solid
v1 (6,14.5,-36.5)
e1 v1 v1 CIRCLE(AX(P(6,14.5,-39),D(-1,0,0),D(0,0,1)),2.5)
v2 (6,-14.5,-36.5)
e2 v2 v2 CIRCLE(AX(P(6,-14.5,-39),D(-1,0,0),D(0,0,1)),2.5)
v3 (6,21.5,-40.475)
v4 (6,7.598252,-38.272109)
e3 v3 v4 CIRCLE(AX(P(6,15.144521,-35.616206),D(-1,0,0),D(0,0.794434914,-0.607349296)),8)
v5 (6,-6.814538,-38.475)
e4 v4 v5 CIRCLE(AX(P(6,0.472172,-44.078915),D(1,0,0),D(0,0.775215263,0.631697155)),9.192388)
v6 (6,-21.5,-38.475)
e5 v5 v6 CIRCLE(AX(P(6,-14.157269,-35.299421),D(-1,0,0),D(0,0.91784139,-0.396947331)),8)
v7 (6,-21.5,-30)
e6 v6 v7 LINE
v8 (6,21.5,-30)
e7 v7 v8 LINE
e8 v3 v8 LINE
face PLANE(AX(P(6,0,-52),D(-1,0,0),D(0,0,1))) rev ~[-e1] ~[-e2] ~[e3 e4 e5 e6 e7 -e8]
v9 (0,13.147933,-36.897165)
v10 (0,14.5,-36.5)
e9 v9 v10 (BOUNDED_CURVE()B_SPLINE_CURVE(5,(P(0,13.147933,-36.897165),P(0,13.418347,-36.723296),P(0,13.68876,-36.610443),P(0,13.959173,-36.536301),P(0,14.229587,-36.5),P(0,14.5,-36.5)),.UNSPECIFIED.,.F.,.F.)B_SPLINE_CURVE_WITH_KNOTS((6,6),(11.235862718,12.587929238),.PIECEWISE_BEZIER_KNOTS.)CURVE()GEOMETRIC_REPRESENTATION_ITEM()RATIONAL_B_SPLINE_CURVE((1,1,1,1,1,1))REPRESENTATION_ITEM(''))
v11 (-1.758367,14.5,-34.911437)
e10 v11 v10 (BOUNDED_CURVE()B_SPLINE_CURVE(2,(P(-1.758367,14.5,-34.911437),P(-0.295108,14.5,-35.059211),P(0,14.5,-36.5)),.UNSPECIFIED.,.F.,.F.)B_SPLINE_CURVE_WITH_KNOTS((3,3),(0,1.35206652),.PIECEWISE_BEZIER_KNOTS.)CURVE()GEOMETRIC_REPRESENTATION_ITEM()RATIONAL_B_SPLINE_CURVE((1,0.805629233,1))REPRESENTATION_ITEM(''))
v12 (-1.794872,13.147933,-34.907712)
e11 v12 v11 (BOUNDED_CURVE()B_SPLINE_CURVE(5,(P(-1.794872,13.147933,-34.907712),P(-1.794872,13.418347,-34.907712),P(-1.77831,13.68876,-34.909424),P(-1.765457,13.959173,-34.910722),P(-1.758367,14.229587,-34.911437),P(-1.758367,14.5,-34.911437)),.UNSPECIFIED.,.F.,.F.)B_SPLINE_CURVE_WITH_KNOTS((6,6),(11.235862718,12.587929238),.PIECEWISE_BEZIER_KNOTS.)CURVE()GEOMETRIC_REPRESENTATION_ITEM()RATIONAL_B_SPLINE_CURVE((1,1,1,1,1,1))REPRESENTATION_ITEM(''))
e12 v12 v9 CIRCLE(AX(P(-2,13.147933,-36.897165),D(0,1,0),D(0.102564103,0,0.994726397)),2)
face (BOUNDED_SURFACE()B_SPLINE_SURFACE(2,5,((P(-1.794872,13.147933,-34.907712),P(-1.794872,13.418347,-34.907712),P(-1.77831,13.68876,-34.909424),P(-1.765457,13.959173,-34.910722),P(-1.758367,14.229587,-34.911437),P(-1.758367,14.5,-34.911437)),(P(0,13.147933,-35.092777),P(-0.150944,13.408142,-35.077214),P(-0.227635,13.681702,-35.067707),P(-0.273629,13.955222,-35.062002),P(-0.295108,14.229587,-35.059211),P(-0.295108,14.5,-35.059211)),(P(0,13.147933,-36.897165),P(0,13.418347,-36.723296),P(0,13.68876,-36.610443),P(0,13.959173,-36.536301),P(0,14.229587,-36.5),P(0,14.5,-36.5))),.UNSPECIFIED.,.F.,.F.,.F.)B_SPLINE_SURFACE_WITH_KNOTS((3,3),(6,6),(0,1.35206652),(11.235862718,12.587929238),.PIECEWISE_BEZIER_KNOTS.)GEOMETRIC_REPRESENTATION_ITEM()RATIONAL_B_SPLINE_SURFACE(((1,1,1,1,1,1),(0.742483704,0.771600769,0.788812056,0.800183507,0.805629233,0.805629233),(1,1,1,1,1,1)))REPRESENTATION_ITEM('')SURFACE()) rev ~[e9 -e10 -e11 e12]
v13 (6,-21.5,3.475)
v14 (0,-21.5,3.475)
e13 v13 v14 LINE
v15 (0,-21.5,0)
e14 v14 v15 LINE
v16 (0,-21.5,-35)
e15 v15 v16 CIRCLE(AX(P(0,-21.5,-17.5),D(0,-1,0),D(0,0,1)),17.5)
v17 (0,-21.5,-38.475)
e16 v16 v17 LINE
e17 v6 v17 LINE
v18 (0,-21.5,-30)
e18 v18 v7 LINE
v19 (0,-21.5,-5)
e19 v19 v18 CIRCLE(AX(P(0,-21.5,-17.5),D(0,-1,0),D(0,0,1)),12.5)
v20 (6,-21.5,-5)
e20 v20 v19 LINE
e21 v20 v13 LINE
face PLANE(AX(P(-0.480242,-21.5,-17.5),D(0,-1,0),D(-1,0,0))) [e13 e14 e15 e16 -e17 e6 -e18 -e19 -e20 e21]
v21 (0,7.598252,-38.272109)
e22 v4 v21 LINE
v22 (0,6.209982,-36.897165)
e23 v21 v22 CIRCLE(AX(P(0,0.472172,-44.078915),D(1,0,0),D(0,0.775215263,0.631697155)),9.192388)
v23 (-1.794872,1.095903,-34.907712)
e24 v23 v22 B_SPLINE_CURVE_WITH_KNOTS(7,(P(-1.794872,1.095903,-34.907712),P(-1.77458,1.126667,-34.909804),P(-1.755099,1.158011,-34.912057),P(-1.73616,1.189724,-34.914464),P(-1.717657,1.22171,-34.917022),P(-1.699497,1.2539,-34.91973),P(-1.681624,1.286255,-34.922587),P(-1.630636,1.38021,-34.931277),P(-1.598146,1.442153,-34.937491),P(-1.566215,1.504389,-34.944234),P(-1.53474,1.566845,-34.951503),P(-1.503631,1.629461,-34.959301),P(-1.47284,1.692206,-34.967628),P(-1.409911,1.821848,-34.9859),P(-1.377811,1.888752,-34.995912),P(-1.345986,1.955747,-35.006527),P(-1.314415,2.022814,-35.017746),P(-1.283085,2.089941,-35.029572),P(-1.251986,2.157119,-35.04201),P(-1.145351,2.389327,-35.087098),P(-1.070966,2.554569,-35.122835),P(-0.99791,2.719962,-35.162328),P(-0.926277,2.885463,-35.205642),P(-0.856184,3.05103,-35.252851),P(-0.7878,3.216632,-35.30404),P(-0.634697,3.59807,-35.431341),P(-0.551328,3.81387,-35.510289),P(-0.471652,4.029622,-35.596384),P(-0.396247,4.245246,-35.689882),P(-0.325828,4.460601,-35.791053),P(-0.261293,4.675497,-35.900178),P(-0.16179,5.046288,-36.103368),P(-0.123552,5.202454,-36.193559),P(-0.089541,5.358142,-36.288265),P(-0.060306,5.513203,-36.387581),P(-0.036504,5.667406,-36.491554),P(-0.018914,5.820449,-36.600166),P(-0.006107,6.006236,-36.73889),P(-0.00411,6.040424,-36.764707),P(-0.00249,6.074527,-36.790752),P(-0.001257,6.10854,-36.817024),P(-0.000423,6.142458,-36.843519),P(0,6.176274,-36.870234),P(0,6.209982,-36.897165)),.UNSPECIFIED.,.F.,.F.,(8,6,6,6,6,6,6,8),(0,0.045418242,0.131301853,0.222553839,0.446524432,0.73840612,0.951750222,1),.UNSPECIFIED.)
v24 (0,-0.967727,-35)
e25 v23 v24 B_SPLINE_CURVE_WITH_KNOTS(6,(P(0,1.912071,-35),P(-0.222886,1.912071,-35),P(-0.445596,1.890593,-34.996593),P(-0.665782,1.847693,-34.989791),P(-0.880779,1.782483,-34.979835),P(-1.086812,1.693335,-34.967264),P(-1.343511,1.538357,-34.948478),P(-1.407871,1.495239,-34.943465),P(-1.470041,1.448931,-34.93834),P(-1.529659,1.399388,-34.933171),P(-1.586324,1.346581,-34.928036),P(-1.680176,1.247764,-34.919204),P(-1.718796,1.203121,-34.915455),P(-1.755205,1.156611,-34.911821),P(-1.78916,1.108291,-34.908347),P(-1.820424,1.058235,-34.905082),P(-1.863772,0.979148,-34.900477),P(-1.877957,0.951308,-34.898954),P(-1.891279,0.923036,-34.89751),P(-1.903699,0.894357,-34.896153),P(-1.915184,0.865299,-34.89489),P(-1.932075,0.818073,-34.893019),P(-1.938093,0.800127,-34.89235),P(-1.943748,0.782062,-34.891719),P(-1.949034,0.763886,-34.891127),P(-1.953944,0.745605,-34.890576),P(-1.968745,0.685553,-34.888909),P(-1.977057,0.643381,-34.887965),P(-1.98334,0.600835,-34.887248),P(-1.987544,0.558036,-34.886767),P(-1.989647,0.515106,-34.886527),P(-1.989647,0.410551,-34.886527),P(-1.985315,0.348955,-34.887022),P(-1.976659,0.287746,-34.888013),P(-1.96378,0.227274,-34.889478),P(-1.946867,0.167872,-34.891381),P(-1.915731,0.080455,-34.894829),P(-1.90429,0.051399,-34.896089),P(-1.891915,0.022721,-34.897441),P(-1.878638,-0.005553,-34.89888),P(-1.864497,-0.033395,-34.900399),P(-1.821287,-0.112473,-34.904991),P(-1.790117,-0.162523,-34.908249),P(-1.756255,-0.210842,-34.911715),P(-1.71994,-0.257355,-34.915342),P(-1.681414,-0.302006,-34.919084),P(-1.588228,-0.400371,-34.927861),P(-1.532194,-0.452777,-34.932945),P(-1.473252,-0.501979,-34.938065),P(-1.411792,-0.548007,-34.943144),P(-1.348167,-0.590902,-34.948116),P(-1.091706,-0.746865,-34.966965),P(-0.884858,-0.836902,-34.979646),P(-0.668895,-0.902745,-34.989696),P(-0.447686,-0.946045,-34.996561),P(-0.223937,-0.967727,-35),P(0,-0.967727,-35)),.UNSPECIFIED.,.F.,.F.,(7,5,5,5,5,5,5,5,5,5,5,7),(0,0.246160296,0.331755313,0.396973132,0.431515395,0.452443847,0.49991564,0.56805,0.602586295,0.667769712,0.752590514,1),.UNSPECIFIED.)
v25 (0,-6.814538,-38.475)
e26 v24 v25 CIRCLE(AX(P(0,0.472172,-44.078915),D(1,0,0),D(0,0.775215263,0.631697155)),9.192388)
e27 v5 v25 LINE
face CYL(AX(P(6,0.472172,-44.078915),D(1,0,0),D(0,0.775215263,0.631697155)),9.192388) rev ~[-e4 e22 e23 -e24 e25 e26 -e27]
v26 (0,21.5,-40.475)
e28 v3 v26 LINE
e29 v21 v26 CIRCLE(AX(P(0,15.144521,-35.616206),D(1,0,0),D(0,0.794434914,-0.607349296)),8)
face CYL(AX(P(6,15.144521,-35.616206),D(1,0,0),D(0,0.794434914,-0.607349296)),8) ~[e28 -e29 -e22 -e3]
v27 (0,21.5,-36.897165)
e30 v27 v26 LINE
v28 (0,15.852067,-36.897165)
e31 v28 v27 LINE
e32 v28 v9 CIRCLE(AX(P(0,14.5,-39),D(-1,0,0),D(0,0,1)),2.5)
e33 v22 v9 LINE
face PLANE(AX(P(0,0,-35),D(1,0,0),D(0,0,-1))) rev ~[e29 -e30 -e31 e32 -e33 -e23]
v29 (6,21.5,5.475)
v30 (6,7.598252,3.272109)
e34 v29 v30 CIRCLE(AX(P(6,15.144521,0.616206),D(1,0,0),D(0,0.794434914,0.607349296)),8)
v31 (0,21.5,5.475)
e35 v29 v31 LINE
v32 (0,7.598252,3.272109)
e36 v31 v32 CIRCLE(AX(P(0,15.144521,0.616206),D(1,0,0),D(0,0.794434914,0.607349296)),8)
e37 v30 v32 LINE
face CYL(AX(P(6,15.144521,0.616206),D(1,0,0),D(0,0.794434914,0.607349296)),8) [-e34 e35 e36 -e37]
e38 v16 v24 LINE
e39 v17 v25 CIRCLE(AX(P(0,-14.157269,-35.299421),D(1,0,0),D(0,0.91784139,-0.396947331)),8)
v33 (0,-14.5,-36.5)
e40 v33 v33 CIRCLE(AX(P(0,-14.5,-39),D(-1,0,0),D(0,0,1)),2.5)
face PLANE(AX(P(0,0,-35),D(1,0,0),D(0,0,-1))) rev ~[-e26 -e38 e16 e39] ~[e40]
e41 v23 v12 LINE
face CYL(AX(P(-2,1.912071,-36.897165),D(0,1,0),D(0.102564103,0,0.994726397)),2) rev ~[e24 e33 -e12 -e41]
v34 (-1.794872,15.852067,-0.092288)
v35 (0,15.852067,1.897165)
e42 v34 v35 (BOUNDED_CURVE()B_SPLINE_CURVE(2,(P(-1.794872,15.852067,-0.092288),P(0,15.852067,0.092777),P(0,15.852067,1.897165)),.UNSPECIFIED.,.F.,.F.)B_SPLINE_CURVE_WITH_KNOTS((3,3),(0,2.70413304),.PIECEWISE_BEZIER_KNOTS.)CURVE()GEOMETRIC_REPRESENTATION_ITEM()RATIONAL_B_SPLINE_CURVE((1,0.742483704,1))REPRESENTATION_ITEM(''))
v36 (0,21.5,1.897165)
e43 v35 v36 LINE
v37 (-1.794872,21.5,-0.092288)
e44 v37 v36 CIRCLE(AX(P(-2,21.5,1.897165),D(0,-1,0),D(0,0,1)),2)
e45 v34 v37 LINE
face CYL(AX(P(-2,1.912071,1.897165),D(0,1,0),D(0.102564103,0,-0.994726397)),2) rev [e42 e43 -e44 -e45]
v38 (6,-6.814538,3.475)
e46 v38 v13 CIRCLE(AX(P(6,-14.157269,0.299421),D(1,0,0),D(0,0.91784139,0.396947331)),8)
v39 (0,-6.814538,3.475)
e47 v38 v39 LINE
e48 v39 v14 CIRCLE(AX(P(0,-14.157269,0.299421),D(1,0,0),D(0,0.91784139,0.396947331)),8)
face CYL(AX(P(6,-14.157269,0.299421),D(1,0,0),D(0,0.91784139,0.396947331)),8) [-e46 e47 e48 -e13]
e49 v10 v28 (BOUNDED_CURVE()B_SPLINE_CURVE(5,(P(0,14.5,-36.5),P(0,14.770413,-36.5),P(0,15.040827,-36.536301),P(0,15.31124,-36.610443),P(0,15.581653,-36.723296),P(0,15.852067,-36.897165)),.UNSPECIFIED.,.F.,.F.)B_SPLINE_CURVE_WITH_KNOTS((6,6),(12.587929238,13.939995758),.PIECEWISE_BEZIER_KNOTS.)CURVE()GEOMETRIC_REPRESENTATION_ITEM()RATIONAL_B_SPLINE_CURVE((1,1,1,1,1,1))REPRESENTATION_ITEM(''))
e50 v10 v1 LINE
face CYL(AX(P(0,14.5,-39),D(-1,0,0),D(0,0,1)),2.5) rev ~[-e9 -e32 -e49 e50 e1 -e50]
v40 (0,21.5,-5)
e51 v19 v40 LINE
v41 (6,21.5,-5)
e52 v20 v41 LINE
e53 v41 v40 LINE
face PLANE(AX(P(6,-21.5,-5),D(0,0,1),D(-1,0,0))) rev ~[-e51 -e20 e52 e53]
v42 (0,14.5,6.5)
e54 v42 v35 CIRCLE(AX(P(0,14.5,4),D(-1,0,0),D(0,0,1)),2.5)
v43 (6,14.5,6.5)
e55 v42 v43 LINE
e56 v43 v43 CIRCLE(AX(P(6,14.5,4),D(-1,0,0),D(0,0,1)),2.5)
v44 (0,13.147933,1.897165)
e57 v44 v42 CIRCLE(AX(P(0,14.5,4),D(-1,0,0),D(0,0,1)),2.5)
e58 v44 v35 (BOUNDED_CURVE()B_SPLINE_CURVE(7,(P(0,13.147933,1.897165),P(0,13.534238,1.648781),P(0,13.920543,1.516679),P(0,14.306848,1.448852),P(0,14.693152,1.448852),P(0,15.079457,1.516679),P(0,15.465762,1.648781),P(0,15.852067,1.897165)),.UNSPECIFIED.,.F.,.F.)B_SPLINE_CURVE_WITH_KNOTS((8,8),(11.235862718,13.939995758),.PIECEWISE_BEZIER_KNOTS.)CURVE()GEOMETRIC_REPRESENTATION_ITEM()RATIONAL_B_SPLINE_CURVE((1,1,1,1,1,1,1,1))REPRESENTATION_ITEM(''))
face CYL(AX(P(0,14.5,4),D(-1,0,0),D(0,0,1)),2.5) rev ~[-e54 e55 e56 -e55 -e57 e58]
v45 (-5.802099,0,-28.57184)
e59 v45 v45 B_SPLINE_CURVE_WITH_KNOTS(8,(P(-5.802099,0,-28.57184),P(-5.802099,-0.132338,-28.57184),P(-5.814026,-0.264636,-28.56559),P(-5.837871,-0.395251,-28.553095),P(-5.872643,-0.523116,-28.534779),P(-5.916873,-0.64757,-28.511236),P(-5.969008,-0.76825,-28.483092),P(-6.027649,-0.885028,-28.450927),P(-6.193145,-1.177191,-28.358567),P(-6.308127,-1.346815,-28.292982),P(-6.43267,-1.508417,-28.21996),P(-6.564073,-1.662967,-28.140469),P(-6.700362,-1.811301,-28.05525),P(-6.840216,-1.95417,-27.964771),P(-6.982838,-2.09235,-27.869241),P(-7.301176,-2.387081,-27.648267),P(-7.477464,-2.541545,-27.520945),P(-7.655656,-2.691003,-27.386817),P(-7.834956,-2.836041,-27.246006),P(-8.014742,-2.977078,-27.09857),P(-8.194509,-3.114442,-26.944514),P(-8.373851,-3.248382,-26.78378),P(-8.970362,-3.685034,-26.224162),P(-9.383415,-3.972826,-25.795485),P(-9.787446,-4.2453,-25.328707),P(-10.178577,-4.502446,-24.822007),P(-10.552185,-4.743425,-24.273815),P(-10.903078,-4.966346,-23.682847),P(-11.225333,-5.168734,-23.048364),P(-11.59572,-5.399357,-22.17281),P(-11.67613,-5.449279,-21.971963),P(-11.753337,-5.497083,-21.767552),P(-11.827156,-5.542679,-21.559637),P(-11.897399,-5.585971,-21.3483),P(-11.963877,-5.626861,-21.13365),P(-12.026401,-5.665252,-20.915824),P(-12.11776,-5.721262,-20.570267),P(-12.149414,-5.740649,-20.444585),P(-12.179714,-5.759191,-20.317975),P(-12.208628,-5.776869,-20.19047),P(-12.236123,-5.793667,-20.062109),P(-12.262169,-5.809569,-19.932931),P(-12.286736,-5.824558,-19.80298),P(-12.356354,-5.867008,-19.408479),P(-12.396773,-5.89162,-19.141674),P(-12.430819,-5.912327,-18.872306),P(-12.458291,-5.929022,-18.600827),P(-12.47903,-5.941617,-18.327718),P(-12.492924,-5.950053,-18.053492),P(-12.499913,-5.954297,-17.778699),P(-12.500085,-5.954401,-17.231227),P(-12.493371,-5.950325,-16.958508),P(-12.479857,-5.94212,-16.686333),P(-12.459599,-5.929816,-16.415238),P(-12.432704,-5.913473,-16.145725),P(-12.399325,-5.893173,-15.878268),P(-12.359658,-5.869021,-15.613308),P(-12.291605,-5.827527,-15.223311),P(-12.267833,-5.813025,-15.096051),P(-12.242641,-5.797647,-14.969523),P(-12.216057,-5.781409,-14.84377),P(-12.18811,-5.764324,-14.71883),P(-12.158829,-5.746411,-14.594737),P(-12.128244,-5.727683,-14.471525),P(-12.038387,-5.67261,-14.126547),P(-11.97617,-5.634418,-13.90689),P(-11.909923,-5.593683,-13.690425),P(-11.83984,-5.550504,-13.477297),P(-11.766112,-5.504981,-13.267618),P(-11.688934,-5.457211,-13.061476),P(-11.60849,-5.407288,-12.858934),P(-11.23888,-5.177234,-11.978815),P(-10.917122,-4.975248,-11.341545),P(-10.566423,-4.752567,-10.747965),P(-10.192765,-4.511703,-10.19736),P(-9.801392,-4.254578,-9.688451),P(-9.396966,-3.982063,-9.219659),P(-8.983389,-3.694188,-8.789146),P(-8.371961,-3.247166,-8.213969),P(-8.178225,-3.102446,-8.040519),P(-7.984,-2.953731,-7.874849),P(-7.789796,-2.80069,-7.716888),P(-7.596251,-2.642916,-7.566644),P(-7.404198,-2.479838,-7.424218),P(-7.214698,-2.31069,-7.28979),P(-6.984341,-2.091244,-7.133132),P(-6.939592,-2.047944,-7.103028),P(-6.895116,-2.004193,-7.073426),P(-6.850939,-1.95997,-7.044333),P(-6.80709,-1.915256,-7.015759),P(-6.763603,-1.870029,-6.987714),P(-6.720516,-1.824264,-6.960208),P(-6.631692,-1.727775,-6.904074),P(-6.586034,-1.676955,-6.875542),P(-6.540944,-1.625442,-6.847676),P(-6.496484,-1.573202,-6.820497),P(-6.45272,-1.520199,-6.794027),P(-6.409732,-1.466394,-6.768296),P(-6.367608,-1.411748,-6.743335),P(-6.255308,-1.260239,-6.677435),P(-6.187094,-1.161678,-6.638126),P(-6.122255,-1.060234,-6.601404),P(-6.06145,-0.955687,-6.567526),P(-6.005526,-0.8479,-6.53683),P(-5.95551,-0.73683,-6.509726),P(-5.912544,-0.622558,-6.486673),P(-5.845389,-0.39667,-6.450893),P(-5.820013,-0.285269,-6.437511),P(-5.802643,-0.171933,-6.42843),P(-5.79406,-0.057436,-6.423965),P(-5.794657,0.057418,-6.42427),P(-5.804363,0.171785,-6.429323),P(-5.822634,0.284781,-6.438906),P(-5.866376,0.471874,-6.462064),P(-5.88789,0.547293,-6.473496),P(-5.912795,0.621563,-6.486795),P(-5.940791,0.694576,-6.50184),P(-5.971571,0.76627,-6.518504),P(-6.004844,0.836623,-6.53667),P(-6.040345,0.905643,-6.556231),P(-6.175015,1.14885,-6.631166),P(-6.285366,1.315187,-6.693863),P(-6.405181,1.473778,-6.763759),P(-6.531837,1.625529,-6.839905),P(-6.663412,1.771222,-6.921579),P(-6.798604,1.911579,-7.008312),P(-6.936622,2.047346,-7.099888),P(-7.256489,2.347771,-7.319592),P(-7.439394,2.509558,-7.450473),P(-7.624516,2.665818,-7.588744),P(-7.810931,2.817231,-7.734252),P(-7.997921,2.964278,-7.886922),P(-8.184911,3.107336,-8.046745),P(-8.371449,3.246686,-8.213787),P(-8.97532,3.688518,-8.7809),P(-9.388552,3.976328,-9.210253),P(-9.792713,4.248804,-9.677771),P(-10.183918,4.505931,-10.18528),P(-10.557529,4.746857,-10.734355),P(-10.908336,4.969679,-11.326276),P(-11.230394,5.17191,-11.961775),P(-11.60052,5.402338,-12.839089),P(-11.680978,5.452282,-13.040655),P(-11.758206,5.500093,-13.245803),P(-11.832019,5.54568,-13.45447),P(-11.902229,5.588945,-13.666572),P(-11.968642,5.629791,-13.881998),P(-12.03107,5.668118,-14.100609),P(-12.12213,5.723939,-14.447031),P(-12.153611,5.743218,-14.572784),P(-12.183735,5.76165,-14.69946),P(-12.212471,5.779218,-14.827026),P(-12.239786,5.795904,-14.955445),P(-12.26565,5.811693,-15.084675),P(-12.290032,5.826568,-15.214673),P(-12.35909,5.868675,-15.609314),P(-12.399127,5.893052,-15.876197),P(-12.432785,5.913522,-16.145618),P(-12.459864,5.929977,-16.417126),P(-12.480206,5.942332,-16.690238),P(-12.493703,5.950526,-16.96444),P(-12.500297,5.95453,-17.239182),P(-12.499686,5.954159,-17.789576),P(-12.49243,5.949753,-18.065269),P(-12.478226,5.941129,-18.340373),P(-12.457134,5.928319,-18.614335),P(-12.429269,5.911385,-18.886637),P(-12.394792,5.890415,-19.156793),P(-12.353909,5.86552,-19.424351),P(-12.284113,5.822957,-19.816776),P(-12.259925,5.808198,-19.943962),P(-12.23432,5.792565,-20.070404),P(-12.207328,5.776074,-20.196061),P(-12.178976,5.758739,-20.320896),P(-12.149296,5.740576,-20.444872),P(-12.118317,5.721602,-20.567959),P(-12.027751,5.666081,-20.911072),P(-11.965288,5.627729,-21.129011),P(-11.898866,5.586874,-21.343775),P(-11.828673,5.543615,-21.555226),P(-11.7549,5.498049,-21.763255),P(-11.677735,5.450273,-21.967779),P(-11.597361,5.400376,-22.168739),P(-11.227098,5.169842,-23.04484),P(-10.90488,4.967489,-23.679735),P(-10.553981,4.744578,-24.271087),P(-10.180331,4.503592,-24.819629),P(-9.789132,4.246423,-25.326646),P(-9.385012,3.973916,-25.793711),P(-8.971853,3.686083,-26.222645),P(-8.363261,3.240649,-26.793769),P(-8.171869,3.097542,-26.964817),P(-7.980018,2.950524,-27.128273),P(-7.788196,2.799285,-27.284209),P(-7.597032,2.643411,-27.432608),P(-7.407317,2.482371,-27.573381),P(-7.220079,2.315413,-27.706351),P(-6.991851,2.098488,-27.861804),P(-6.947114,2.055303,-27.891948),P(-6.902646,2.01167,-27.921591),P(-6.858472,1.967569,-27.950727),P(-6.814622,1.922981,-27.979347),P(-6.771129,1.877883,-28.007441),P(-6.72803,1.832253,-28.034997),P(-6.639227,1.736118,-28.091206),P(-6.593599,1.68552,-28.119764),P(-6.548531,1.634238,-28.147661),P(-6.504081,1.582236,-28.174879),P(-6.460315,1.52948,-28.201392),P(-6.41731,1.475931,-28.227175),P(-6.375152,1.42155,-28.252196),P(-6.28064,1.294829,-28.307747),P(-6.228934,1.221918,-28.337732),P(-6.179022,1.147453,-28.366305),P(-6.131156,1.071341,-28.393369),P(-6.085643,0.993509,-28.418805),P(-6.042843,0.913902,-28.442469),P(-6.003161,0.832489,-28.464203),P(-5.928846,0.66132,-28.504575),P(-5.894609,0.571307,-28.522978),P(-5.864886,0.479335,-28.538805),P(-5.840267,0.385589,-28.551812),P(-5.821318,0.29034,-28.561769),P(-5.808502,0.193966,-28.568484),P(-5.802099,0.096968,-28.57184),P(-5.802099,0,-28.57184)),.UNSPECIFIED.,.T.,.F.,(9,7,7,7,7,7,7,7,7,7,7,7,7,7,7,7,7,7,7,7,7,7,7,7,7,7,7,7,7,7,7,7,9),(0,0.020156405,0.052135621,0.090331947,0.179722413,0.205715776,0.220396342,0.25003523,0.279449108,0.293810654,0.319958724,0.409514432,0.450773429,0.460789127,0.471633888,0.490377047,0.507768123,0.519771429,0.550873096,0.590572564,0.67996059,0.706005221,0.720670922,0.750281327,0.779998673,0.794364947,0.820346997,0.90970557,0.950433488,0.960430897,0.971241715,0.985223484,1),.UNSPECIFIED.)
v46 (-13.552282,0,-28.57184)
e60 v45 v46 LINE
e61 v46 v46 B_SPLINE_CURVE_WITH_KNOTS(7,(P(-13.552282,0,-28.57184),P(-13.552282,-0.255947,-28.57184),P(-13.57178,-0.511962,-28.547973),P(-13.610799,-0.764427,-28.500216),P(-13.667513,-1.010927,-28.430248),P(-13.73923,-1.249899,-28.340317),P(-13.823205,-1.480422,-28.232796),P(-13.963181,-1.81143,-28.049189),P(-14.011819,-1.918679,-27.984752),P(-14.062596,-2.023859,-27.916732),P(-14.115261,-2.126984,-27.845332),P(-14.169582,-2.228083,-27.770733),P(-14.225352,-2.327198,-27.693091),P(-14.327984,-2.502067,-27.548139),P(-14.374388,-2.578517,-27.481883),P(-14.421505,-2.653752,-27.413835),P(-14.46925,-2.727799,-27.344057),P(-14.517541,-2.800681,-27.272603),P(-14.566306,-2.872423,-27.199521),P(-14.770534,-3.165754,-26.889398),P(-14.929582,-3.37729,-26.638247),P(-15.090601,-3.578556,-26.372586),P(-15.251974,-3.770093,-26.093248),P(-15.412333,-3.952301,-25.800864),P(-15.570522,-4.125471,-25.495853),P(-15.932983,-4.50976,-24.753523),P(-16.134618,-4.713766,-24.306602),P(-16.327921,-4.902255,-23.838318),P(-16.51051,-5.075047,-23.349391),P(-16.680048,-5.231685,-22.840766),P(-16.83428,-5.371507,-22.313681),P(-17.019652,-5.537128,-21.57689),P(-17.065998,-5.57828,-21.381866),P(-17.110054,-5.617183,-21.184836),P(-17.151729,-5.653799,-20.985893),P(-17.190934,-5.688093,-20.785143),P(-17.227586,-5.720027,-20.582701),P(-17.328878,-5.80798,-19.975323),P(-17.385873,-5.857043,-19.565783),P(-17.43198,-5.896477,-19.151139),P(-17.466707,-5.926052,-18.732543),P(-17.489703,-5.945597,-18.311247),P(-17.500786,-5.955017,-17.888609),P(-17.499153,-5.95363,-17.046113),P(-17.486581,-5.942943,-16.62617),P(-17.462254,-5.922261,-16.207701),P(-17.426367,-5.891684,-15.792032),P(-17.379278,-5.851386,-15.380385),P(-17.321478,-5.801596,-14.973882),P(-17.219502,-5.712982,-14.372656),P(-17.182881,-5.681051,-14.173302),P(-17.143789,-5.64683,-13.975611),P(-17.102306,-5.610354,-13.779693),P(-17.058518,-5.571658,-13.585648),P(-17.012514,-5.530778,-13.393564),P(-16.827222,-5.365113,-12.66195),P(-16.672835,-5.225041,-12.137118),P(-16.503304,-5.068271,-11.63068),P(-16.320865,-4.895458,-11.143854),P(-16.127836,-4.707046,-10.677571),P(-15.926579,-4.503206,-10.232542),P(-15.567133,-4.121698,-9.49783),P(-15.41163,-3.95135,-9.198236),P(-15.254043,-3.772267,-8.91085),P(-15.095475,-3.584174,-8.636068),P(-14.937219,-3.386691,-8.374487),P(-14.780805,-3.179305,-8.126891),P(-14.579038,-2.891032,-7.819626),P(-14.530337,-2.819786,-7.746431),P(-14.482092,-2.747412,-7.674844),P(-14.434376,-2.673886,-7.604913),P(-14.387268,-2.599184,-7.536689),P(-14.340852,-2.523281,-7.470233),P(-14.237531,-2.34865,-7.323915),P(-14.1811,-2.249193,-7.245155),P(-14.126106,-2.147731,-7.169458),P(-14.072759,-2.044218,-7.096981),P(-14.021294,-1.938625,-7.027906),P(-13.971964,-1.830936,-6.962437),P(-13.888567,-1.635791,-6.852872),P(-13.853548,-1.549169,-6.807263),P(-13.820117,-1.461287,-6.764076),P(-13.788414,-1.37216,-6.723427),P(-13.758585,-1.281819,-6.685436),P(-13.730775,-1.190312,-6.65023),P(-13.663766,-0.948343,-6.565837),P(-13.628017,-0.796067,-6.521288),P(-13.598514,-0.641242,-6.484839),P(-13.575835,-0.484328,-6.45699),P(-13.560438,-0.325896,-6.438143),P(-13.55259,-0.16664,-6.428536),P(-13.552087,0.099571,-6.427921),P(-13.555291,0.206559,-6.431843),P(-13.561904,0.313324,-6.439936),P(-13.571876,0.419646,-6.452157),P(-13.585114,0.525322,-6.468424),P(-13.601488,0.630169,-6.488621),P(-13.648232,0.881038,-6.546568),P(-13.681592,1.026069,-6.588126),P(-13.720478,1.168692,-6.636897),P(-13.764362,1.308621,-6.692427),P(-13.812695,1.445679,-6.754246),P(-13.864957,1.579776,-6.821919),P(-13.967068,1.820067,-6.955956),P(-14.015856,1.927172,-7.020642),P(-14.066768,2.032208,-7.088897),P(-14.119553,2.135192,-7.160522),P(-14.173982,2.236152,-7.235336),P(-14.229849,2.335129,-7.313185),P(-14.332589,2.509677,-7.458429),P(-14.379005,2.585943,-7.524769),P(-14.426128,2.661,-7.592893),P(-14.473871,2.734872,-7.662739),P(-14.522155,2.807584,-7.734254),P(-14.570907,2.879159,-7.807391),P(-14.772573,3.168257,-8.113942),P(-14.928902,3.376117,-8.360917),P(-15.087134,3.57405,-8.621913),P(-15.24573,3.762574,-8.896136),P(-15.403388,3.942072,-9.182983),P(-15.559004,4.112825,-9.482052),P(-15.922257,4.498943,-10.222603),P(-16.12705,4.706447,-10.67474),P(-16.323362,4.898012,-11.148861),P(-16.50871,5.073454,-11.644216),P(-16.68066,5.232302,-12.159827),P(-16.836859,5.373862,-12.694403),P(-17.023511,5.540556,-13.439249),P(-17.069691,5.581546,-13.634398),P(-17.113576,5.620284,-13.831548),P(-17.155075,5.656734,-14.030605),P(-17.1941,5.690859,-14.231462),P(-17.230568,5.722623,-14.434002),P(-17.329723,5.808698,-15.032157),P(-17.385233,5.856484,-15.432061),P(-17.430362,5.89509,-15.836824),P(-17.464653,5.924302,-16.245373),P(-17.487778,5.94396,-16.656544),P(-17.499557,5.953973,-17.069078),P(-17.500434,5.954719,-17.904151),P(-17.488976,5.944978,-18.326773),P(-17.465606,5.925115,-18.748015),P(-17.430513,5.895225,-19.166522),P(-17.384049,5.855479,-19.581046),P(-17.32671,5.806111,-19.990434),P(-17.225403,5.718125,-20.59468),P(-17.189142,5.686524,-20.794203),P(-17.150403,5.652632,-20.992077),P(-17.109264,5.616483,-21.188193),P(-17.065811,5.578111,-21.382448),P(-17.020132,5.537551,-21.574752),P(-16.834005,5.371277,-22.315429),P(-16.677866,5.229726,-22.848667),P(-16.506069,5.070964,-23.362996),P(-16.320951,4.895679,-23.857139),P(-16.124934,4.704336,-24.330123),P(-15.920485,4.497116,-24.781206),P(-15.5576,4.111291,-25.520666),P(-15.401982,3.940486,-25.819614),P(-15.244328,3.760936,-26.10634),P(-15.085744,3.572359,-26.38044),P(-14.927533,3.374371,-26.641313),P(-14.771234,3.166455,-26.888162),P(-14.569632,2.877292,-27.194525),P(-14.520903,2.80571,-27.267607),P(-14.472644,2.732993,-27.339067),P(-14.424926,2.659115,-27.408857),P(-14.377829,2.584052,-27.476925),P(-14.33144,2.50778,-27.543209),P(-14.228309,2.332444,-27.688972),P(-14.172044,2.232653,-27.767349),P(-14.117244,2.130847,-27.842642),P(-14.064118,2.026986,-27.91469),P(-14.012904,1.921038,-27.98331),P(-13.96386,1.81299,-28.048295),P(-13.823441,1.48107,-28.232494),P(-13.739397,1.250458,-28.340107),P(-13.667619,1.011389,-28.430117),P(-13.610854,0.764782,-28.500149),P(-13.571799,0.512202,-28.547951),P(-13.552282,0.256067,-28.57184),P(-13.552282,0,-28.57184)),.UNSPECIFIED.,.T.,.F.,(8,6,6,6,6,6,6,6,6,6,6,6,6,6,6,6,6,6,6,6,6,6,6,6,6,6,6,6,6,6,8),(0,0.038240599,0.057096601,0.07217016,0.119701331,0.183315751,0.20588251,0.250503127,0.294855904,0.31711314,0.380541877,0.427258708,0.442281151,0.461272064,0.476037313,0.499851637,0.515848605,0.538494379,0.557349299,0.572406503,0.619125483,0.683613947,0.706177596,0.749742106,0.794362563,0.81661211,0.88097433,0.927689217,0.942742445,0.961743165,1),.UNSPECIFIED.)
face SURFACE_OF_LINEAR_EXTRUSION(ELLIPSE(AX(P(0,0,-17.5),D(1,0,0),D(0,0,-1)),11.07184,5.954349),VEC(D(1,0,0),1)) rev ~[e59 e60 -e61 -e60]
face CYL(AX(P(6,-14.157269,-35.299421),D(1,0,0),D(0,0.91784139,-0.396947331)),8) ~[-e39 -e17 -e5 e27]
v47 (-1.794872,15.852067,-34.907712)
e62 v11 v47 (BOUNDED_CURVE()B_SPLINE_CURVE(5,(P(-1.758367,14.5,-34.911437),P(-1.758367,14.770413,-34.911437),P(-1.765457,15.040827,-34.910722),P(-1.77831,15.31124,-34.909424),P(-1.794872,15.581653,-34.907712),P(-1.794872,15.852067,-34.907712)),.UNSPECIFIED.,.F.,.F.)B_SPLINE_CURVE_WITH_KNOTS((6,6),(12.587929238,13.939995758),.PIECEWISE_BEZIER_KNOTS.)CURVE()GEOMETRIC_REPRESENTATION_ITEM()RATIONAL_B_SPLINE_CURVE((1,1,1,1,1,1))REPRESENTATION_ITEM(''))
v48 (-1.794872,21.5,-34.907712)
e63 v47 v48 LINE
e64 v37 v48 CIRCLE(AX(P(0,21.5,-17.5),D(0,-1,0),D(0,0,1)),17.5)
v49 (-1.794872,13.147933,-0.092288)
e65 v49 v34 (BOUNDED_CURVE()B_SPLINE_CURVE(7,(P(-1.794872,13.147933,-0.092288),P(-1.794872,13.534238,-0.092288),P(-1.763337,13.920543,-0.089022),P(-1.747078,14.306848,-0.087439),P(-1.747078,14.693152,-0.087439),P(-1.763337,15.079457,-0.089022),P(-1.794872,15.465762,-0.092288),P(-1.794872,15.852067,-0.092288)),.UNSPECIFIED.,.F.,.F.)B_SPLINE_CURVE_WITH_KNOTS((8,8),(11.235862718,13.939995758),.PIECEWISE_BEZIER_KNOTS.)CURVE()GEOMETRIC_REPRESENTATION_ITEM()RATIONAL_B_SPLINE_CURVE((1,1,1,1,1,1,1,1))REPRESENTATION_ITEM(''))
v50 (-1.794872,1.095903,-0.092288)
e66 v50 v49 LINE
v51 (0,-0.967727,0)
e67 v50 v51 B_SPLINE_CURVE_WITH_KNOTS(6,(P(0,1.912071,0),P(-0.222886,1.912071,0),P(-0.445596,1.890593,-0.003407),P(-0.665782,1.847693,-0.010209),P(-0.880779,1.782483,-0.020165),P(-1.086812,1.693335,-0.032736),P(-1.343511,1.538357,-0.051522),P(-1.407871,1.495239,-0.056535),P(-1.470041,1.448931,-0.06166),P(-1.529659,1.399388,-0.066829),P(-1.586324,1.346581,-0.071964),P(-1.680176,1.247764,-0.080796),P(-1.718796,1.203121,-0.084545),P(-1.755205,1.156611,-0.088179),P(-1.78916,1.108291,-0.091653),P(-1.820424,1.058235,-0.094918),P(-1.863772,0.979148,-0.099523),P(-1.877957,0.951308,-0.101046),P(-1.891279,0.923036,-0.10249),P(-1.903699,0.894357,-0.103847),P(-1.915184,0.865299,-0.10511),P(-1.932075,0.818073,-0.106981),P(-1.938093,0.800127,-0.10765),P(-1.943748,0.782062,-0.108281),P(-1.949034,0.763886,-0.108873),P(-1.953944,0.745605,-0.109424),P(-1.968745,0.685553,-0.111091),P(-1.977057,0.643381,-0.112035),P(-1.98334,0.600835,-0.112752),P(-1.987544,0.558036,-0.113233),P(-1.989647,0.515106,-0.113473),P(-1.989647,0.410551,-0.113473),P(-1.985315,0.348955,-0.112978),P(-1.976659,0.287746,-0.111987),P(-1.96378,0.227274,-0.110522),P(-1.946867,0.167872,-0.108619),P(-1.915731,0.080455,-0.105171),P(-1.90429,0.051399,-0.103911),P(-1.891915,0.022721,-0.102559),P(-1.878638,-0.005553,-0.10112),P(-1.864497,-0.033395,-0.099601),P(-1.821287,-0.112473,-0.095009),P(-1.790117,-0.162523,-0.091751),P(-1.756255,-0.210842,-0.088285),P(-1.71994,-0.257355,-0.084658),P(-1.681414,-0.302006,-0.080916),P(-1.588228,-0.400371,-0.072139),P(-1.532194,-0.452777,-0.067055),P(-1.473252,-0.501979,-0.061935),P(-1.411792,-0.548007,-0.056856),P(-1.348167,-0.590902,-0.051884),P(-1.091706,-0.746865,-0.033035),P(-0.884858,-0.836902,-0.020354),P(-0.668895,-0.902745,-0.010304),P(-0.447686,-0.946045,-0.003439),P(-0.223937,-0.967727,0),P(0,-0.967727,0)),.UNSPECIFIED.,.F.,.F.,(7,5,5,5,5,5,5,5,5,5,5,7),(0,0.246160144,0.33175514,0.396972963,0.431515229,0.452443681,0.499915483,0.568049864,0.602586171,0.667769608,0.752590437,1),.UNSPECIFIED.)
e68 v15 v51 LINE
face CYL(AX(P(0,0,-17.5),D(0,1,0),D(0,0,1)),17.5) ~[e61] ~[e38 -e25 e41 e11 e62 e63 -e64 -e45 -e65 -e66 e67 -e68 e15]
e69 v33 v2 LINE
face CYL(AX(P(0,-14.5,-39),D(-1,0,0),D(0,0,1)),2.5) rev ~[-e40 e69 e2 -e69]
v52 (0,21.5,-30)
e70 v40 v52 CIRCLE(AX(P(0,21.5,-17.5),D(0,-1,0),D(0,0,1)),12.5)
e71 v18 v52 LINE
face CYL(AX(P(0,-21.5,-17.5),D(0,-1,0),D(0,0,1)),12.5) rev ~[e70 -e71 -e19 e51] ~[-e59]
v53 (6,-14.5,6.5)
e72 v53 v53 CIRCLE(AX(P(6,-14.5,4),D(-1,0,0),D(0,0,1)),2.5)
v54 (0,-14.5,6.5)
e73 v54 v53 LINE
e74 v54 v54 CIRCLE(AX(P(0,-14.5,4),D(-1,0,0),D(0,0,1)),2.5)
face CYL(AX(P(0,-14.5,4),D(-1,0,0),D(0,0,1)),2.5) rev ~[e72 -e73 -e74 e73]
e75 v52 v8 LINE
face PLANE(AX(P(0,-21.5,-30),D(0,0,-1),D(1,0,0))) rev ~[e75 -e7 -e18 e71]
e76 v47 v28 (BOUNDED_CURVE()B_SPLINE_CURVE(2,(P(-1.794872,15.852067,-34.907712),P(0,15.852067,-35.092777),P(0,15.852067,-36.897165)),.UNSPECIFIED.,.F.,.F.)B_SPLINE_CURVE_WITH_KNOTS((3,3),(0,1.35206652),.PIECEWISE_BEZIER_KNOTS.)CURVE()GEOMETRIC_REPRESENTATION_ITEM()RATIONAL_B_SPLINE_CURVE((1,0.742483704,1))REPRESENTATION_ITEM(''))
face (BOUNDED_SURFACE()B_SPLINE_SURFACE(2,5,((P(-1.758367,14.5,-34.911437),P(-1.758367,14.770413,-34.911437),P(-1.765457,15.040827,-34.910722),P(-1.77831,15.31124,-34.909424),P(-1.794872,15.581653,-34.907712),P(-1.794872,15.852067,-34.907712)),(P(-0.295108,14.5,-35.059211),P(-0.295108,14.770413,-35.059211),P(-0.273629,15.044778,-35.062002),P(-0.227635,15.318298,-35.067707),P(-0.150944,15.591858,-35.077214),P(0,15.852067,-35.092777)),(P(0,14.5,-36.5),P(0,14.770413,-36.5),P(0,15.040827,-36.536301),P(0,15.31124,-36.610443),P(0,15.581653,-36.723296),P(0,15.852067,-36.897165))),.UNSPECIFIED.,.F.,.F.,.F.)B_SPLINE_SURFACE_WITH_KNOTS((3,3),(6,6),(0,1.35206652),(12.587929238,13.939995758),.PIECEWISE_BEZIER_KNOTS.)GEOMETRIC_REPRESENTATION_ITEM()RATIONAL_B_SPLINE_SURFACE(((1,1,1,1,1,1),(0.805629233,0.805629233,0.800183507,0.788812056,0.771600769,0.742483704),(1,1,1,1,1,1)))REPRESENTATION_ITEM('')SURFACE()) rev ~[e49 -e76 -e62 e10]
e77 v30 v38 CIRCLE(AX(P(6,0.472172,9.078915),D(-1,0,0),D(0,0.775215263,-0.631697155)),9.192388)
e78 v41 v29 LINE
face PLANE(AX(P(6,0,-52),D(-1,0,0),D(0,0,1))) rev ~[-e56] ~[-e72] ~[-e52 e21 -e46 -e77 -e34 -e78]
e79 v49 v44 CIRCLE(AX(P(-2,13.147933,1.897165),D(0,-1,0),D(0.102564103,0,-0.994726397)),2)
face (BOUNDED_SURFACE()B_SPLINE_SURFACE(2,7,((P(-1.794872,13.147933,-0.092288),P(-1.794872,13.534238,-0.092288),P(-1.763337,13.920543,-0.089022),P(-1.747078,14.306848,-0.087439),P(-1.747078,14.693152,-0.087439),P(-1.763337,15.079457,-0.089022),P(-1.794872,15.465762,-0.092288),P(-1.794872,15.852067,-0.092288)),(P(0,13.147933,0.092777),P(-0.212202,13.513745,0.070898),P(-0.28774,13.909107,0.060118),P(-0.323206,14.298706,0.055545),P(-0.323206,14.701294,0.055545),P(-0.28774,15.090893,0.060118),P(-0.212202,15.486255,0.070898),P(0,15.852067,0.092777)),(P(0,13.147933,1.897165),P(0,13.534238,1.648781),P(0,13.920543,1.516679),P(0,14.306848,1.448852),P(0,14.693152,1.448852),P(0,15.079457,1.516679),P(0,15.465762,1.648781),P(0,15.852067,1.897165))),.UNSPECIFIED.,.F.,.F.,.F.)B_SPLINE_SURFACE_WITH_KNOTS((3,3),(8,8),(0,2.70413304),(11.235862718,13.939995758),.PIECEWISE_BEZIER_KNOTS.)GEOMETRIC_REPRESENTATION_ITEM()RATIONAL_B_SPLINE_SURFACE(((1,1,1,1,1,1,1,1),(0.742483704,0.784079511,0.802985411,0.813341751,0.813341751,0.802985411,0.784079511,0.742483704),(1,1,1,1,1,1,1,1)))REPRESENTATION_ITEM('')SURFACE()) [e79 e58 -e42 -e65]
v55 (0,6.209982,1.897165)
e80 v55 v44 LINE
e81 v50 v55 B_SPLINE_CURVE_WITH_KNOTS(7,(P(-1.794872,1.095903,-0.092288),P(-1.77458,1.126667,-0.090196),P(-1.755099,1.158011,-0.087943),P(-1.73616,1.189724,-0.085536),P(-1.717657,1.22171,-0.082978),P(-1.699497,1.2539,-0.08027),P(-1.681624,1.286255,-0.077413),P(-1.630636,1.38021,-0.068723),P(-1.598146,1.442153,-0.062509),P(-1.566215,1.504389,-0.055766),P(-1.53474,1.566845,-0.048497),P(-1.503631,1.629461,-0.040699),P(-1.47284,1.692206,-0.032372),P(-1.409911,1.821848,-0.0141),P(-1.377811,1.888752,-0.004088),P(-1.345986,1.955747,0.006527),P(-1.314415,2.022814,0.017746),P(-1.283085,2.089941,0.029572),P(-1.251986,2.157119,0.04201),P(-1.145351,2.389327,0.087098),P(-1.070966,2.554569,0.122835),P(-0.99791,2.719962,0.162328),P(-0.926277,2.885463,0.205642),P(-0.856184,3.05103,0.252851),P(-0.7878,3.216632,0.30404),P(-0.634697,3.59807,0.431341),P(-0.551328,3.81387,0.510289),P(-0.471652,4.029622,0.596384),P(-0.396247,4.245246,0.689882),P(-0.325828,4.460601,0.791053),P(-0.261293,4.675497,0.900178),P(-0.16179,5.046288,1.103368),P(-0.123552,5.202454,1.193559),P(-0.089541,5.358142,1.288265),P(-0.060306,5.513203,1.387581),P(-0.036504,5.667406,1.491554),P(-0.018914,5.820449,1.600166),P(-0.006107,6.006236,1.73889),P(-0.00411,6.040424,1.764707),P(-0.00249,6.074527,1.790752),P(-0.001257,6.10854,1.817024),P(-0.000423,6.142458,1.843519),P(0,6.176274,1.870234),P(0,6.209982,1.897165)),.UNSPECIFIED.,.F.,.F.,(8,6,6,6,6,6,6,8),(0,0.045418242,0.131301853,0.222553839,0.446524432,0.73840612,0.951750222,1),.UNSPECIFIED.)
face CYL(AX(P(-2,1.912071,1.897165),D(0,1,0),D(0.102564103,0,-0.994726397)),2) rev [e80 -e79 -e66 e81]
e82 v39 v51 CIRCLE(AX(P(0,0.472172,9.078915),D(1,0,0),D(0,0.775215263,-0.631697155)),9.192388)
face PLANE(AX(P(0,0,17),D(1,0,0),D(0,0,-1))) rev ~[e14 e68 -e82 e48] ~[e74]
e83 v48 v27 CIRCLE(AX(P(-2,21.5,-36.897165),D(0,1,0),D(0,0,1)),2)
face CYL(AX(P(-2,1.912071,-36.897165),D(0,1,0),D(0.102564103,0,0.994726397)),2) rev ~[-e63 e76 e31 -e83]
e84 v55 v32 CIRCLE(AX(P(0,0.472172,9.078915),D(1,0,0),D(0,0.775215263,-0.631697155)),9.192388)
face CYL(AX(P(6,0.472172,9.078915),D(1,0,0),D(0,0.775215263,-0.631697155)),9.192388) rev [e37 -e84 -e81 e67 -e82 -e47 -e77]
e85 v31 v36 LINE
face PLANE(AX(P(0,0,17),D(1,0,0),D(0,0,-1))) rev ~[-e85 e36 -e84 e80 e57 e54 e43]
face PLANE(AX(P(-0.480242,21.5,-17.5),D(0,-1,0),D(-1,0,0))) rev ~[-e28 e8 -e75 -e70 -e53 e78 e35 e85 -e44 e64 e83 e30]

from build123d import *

# Parameters (mm, degrees)
BOSS_EXTRUDE2_DEPTH      = 21.5
CUT_EXTRUDE8_DEPTH       = 44
CUT_EXTRUDE9_DEPTH       = 24.5
SKETCH18_R               = 2.5
CUT_EXTRUDE13_DEPTH      = 18.5000001
CUT_EXTRUDE13_DEPTH_BACK = 7.0000001
SKETCH19_RX              = 11.071840333
SKETCH19_RY              = 5.954349413
CUT_EXTRUDE14_DEPTH      = 7.0000001
CUT_EXTRUDE14_DEPTH_BACK = 18.5000001
FILLET6_R                = 2
FILLET7_R                = 2


with BuildPart() as part:
    # Sketch12 → Boss-Extrude2 (new body, symmetric)
    with BuildSketch(Plane(origin=(0, 0, 0), x_dir=(1, 0, 0), z_dir=(0, 1, 0))):
        with BuildLine():
            Line((0, 35), (0, 52))
            Line((0, 52), (6, 52))
            Line((6, 52), (6, -17))
            Line((6, -17), (0, -17))
            Line((0, -17), (0, 0))
            ThreePointArc((0, 0), (-17.5, 17.5), (0, 35))
        make_face()
    extrude(amount=BOSS_EXTRUDE2_DEPTH, both=True)

    # Sketch13 → Cut-Extrude8 (cut, through all)
    with BuildSketch(Plane.XZ.offset(21.5)):
        with BuildLine():
            Line((0, -30), (6, -30))
            Line((6, -30), (6, -5))
            Line((6, -5), (0, -5))
            ThreePointArc((0, -5), (-12.5, -17.5), (0, -30))
        make_face()
    extrude(amount=-CUT_EXTRUDE8_DEPTH, mode=Mode.SUBTRACT)

    # Sketch14 → Cut-Extrude9 (cut, through all)
    with BuildSketch(Plane(origin=(6, 0, 0), x_dir=(0, 0, -1), z_dir=(1, 0, 0))):
        with BuildLine():
            Line((-3.475, -21.5), (-17, -21.5))
            Line((-17, -21.5), (-17, 21.5))
            Line((-17, 21.5), (-5.475, 21.5))
            ThreePointArc((-5.475, 21.5), (-8.517618353, 13.892451617), (-3.272109233, 7.598251675))
            ThreePointArc((-3.272109233, 7.598251675), (0.112562803, 0.342782413), (-3.475, -6.814537766))
            ThreePointArc((-3.475, -6.814537766), (-8.299421353, -14.157268883), (-3.475, -21.5))
        make_face()
    cut_extrude9 = extrude(amount=-CUT_EXTRUDE9_DEPTH, mode=Mode.SUBTRACT)

    # Mirror1: Cut-Extrude9 across plane
    add(cut_extrude9.mirror(Plane.XY.offset(-17.5)), mode=Mode.SUBTRACT)

    # Sketch18 → Cut-Extrude13 (cut, two sides)
    with BuildSketch(Plane.ZY) as cut_extrude13_sk:
        with Locations((-39, 14.5)):
            Circle(SKETCH18_R)
        with Locations((4, 14.5)):
            Circle(SKETCH18_R)
        with Locations((-39, -14.5)):
            Circle(SKETCH18_R)
        with Locations((4, -14.5)):
            Circle(SKETCH18_R)
    extrude(amount=CUT_EXTRUDE13_DEPTH, mode=Mode.SUBTRACT)
    extrude(cut_extrude13_sk.sketch, amount=-CUT_EXTRUDE13_DEPTH_BACK, mode=Mode.SUBTRACT)

    # Sketch19 → Cut-Extrude14 (cut, two sides)
    with BuildSketch(Plane(origin=(0, 0, 0), x_dir=(0, 0, -1), z_dir=(1, 0, 0))) as cut_extrude14_sk:
        with Locations(Location((17.5, 0), (0, 0, 0))):
            Ellipse(SKETCH19_RX, SKETCH19_RY)
    extrude(amount=CUT_EXTRUDE14_DEPTH, mode=Mode.SUBTRACT)
    extrude(cut_extrude14_sk.sketch, amount=-CUT_EXTRUDE14_DEPTH_BACK, mode=Mode.SUBTRACT)

    # Fillet6
    fillet6_edges = [part.edges().sort_by_distance(p)[0] for p in [
        (0, 11.706035382, 0),
    ]]
    fillet(fillet6_edges, radius=FILLET6_R)

    # Fillet7
    fillet7_edges = [part.edges().sort_by_distance(p)[0] for p in [
        (0, 11.706035382, -35),
    ]]
    fillet(fillet7_edges, radius=FILLET7_R)


solid = part.part
